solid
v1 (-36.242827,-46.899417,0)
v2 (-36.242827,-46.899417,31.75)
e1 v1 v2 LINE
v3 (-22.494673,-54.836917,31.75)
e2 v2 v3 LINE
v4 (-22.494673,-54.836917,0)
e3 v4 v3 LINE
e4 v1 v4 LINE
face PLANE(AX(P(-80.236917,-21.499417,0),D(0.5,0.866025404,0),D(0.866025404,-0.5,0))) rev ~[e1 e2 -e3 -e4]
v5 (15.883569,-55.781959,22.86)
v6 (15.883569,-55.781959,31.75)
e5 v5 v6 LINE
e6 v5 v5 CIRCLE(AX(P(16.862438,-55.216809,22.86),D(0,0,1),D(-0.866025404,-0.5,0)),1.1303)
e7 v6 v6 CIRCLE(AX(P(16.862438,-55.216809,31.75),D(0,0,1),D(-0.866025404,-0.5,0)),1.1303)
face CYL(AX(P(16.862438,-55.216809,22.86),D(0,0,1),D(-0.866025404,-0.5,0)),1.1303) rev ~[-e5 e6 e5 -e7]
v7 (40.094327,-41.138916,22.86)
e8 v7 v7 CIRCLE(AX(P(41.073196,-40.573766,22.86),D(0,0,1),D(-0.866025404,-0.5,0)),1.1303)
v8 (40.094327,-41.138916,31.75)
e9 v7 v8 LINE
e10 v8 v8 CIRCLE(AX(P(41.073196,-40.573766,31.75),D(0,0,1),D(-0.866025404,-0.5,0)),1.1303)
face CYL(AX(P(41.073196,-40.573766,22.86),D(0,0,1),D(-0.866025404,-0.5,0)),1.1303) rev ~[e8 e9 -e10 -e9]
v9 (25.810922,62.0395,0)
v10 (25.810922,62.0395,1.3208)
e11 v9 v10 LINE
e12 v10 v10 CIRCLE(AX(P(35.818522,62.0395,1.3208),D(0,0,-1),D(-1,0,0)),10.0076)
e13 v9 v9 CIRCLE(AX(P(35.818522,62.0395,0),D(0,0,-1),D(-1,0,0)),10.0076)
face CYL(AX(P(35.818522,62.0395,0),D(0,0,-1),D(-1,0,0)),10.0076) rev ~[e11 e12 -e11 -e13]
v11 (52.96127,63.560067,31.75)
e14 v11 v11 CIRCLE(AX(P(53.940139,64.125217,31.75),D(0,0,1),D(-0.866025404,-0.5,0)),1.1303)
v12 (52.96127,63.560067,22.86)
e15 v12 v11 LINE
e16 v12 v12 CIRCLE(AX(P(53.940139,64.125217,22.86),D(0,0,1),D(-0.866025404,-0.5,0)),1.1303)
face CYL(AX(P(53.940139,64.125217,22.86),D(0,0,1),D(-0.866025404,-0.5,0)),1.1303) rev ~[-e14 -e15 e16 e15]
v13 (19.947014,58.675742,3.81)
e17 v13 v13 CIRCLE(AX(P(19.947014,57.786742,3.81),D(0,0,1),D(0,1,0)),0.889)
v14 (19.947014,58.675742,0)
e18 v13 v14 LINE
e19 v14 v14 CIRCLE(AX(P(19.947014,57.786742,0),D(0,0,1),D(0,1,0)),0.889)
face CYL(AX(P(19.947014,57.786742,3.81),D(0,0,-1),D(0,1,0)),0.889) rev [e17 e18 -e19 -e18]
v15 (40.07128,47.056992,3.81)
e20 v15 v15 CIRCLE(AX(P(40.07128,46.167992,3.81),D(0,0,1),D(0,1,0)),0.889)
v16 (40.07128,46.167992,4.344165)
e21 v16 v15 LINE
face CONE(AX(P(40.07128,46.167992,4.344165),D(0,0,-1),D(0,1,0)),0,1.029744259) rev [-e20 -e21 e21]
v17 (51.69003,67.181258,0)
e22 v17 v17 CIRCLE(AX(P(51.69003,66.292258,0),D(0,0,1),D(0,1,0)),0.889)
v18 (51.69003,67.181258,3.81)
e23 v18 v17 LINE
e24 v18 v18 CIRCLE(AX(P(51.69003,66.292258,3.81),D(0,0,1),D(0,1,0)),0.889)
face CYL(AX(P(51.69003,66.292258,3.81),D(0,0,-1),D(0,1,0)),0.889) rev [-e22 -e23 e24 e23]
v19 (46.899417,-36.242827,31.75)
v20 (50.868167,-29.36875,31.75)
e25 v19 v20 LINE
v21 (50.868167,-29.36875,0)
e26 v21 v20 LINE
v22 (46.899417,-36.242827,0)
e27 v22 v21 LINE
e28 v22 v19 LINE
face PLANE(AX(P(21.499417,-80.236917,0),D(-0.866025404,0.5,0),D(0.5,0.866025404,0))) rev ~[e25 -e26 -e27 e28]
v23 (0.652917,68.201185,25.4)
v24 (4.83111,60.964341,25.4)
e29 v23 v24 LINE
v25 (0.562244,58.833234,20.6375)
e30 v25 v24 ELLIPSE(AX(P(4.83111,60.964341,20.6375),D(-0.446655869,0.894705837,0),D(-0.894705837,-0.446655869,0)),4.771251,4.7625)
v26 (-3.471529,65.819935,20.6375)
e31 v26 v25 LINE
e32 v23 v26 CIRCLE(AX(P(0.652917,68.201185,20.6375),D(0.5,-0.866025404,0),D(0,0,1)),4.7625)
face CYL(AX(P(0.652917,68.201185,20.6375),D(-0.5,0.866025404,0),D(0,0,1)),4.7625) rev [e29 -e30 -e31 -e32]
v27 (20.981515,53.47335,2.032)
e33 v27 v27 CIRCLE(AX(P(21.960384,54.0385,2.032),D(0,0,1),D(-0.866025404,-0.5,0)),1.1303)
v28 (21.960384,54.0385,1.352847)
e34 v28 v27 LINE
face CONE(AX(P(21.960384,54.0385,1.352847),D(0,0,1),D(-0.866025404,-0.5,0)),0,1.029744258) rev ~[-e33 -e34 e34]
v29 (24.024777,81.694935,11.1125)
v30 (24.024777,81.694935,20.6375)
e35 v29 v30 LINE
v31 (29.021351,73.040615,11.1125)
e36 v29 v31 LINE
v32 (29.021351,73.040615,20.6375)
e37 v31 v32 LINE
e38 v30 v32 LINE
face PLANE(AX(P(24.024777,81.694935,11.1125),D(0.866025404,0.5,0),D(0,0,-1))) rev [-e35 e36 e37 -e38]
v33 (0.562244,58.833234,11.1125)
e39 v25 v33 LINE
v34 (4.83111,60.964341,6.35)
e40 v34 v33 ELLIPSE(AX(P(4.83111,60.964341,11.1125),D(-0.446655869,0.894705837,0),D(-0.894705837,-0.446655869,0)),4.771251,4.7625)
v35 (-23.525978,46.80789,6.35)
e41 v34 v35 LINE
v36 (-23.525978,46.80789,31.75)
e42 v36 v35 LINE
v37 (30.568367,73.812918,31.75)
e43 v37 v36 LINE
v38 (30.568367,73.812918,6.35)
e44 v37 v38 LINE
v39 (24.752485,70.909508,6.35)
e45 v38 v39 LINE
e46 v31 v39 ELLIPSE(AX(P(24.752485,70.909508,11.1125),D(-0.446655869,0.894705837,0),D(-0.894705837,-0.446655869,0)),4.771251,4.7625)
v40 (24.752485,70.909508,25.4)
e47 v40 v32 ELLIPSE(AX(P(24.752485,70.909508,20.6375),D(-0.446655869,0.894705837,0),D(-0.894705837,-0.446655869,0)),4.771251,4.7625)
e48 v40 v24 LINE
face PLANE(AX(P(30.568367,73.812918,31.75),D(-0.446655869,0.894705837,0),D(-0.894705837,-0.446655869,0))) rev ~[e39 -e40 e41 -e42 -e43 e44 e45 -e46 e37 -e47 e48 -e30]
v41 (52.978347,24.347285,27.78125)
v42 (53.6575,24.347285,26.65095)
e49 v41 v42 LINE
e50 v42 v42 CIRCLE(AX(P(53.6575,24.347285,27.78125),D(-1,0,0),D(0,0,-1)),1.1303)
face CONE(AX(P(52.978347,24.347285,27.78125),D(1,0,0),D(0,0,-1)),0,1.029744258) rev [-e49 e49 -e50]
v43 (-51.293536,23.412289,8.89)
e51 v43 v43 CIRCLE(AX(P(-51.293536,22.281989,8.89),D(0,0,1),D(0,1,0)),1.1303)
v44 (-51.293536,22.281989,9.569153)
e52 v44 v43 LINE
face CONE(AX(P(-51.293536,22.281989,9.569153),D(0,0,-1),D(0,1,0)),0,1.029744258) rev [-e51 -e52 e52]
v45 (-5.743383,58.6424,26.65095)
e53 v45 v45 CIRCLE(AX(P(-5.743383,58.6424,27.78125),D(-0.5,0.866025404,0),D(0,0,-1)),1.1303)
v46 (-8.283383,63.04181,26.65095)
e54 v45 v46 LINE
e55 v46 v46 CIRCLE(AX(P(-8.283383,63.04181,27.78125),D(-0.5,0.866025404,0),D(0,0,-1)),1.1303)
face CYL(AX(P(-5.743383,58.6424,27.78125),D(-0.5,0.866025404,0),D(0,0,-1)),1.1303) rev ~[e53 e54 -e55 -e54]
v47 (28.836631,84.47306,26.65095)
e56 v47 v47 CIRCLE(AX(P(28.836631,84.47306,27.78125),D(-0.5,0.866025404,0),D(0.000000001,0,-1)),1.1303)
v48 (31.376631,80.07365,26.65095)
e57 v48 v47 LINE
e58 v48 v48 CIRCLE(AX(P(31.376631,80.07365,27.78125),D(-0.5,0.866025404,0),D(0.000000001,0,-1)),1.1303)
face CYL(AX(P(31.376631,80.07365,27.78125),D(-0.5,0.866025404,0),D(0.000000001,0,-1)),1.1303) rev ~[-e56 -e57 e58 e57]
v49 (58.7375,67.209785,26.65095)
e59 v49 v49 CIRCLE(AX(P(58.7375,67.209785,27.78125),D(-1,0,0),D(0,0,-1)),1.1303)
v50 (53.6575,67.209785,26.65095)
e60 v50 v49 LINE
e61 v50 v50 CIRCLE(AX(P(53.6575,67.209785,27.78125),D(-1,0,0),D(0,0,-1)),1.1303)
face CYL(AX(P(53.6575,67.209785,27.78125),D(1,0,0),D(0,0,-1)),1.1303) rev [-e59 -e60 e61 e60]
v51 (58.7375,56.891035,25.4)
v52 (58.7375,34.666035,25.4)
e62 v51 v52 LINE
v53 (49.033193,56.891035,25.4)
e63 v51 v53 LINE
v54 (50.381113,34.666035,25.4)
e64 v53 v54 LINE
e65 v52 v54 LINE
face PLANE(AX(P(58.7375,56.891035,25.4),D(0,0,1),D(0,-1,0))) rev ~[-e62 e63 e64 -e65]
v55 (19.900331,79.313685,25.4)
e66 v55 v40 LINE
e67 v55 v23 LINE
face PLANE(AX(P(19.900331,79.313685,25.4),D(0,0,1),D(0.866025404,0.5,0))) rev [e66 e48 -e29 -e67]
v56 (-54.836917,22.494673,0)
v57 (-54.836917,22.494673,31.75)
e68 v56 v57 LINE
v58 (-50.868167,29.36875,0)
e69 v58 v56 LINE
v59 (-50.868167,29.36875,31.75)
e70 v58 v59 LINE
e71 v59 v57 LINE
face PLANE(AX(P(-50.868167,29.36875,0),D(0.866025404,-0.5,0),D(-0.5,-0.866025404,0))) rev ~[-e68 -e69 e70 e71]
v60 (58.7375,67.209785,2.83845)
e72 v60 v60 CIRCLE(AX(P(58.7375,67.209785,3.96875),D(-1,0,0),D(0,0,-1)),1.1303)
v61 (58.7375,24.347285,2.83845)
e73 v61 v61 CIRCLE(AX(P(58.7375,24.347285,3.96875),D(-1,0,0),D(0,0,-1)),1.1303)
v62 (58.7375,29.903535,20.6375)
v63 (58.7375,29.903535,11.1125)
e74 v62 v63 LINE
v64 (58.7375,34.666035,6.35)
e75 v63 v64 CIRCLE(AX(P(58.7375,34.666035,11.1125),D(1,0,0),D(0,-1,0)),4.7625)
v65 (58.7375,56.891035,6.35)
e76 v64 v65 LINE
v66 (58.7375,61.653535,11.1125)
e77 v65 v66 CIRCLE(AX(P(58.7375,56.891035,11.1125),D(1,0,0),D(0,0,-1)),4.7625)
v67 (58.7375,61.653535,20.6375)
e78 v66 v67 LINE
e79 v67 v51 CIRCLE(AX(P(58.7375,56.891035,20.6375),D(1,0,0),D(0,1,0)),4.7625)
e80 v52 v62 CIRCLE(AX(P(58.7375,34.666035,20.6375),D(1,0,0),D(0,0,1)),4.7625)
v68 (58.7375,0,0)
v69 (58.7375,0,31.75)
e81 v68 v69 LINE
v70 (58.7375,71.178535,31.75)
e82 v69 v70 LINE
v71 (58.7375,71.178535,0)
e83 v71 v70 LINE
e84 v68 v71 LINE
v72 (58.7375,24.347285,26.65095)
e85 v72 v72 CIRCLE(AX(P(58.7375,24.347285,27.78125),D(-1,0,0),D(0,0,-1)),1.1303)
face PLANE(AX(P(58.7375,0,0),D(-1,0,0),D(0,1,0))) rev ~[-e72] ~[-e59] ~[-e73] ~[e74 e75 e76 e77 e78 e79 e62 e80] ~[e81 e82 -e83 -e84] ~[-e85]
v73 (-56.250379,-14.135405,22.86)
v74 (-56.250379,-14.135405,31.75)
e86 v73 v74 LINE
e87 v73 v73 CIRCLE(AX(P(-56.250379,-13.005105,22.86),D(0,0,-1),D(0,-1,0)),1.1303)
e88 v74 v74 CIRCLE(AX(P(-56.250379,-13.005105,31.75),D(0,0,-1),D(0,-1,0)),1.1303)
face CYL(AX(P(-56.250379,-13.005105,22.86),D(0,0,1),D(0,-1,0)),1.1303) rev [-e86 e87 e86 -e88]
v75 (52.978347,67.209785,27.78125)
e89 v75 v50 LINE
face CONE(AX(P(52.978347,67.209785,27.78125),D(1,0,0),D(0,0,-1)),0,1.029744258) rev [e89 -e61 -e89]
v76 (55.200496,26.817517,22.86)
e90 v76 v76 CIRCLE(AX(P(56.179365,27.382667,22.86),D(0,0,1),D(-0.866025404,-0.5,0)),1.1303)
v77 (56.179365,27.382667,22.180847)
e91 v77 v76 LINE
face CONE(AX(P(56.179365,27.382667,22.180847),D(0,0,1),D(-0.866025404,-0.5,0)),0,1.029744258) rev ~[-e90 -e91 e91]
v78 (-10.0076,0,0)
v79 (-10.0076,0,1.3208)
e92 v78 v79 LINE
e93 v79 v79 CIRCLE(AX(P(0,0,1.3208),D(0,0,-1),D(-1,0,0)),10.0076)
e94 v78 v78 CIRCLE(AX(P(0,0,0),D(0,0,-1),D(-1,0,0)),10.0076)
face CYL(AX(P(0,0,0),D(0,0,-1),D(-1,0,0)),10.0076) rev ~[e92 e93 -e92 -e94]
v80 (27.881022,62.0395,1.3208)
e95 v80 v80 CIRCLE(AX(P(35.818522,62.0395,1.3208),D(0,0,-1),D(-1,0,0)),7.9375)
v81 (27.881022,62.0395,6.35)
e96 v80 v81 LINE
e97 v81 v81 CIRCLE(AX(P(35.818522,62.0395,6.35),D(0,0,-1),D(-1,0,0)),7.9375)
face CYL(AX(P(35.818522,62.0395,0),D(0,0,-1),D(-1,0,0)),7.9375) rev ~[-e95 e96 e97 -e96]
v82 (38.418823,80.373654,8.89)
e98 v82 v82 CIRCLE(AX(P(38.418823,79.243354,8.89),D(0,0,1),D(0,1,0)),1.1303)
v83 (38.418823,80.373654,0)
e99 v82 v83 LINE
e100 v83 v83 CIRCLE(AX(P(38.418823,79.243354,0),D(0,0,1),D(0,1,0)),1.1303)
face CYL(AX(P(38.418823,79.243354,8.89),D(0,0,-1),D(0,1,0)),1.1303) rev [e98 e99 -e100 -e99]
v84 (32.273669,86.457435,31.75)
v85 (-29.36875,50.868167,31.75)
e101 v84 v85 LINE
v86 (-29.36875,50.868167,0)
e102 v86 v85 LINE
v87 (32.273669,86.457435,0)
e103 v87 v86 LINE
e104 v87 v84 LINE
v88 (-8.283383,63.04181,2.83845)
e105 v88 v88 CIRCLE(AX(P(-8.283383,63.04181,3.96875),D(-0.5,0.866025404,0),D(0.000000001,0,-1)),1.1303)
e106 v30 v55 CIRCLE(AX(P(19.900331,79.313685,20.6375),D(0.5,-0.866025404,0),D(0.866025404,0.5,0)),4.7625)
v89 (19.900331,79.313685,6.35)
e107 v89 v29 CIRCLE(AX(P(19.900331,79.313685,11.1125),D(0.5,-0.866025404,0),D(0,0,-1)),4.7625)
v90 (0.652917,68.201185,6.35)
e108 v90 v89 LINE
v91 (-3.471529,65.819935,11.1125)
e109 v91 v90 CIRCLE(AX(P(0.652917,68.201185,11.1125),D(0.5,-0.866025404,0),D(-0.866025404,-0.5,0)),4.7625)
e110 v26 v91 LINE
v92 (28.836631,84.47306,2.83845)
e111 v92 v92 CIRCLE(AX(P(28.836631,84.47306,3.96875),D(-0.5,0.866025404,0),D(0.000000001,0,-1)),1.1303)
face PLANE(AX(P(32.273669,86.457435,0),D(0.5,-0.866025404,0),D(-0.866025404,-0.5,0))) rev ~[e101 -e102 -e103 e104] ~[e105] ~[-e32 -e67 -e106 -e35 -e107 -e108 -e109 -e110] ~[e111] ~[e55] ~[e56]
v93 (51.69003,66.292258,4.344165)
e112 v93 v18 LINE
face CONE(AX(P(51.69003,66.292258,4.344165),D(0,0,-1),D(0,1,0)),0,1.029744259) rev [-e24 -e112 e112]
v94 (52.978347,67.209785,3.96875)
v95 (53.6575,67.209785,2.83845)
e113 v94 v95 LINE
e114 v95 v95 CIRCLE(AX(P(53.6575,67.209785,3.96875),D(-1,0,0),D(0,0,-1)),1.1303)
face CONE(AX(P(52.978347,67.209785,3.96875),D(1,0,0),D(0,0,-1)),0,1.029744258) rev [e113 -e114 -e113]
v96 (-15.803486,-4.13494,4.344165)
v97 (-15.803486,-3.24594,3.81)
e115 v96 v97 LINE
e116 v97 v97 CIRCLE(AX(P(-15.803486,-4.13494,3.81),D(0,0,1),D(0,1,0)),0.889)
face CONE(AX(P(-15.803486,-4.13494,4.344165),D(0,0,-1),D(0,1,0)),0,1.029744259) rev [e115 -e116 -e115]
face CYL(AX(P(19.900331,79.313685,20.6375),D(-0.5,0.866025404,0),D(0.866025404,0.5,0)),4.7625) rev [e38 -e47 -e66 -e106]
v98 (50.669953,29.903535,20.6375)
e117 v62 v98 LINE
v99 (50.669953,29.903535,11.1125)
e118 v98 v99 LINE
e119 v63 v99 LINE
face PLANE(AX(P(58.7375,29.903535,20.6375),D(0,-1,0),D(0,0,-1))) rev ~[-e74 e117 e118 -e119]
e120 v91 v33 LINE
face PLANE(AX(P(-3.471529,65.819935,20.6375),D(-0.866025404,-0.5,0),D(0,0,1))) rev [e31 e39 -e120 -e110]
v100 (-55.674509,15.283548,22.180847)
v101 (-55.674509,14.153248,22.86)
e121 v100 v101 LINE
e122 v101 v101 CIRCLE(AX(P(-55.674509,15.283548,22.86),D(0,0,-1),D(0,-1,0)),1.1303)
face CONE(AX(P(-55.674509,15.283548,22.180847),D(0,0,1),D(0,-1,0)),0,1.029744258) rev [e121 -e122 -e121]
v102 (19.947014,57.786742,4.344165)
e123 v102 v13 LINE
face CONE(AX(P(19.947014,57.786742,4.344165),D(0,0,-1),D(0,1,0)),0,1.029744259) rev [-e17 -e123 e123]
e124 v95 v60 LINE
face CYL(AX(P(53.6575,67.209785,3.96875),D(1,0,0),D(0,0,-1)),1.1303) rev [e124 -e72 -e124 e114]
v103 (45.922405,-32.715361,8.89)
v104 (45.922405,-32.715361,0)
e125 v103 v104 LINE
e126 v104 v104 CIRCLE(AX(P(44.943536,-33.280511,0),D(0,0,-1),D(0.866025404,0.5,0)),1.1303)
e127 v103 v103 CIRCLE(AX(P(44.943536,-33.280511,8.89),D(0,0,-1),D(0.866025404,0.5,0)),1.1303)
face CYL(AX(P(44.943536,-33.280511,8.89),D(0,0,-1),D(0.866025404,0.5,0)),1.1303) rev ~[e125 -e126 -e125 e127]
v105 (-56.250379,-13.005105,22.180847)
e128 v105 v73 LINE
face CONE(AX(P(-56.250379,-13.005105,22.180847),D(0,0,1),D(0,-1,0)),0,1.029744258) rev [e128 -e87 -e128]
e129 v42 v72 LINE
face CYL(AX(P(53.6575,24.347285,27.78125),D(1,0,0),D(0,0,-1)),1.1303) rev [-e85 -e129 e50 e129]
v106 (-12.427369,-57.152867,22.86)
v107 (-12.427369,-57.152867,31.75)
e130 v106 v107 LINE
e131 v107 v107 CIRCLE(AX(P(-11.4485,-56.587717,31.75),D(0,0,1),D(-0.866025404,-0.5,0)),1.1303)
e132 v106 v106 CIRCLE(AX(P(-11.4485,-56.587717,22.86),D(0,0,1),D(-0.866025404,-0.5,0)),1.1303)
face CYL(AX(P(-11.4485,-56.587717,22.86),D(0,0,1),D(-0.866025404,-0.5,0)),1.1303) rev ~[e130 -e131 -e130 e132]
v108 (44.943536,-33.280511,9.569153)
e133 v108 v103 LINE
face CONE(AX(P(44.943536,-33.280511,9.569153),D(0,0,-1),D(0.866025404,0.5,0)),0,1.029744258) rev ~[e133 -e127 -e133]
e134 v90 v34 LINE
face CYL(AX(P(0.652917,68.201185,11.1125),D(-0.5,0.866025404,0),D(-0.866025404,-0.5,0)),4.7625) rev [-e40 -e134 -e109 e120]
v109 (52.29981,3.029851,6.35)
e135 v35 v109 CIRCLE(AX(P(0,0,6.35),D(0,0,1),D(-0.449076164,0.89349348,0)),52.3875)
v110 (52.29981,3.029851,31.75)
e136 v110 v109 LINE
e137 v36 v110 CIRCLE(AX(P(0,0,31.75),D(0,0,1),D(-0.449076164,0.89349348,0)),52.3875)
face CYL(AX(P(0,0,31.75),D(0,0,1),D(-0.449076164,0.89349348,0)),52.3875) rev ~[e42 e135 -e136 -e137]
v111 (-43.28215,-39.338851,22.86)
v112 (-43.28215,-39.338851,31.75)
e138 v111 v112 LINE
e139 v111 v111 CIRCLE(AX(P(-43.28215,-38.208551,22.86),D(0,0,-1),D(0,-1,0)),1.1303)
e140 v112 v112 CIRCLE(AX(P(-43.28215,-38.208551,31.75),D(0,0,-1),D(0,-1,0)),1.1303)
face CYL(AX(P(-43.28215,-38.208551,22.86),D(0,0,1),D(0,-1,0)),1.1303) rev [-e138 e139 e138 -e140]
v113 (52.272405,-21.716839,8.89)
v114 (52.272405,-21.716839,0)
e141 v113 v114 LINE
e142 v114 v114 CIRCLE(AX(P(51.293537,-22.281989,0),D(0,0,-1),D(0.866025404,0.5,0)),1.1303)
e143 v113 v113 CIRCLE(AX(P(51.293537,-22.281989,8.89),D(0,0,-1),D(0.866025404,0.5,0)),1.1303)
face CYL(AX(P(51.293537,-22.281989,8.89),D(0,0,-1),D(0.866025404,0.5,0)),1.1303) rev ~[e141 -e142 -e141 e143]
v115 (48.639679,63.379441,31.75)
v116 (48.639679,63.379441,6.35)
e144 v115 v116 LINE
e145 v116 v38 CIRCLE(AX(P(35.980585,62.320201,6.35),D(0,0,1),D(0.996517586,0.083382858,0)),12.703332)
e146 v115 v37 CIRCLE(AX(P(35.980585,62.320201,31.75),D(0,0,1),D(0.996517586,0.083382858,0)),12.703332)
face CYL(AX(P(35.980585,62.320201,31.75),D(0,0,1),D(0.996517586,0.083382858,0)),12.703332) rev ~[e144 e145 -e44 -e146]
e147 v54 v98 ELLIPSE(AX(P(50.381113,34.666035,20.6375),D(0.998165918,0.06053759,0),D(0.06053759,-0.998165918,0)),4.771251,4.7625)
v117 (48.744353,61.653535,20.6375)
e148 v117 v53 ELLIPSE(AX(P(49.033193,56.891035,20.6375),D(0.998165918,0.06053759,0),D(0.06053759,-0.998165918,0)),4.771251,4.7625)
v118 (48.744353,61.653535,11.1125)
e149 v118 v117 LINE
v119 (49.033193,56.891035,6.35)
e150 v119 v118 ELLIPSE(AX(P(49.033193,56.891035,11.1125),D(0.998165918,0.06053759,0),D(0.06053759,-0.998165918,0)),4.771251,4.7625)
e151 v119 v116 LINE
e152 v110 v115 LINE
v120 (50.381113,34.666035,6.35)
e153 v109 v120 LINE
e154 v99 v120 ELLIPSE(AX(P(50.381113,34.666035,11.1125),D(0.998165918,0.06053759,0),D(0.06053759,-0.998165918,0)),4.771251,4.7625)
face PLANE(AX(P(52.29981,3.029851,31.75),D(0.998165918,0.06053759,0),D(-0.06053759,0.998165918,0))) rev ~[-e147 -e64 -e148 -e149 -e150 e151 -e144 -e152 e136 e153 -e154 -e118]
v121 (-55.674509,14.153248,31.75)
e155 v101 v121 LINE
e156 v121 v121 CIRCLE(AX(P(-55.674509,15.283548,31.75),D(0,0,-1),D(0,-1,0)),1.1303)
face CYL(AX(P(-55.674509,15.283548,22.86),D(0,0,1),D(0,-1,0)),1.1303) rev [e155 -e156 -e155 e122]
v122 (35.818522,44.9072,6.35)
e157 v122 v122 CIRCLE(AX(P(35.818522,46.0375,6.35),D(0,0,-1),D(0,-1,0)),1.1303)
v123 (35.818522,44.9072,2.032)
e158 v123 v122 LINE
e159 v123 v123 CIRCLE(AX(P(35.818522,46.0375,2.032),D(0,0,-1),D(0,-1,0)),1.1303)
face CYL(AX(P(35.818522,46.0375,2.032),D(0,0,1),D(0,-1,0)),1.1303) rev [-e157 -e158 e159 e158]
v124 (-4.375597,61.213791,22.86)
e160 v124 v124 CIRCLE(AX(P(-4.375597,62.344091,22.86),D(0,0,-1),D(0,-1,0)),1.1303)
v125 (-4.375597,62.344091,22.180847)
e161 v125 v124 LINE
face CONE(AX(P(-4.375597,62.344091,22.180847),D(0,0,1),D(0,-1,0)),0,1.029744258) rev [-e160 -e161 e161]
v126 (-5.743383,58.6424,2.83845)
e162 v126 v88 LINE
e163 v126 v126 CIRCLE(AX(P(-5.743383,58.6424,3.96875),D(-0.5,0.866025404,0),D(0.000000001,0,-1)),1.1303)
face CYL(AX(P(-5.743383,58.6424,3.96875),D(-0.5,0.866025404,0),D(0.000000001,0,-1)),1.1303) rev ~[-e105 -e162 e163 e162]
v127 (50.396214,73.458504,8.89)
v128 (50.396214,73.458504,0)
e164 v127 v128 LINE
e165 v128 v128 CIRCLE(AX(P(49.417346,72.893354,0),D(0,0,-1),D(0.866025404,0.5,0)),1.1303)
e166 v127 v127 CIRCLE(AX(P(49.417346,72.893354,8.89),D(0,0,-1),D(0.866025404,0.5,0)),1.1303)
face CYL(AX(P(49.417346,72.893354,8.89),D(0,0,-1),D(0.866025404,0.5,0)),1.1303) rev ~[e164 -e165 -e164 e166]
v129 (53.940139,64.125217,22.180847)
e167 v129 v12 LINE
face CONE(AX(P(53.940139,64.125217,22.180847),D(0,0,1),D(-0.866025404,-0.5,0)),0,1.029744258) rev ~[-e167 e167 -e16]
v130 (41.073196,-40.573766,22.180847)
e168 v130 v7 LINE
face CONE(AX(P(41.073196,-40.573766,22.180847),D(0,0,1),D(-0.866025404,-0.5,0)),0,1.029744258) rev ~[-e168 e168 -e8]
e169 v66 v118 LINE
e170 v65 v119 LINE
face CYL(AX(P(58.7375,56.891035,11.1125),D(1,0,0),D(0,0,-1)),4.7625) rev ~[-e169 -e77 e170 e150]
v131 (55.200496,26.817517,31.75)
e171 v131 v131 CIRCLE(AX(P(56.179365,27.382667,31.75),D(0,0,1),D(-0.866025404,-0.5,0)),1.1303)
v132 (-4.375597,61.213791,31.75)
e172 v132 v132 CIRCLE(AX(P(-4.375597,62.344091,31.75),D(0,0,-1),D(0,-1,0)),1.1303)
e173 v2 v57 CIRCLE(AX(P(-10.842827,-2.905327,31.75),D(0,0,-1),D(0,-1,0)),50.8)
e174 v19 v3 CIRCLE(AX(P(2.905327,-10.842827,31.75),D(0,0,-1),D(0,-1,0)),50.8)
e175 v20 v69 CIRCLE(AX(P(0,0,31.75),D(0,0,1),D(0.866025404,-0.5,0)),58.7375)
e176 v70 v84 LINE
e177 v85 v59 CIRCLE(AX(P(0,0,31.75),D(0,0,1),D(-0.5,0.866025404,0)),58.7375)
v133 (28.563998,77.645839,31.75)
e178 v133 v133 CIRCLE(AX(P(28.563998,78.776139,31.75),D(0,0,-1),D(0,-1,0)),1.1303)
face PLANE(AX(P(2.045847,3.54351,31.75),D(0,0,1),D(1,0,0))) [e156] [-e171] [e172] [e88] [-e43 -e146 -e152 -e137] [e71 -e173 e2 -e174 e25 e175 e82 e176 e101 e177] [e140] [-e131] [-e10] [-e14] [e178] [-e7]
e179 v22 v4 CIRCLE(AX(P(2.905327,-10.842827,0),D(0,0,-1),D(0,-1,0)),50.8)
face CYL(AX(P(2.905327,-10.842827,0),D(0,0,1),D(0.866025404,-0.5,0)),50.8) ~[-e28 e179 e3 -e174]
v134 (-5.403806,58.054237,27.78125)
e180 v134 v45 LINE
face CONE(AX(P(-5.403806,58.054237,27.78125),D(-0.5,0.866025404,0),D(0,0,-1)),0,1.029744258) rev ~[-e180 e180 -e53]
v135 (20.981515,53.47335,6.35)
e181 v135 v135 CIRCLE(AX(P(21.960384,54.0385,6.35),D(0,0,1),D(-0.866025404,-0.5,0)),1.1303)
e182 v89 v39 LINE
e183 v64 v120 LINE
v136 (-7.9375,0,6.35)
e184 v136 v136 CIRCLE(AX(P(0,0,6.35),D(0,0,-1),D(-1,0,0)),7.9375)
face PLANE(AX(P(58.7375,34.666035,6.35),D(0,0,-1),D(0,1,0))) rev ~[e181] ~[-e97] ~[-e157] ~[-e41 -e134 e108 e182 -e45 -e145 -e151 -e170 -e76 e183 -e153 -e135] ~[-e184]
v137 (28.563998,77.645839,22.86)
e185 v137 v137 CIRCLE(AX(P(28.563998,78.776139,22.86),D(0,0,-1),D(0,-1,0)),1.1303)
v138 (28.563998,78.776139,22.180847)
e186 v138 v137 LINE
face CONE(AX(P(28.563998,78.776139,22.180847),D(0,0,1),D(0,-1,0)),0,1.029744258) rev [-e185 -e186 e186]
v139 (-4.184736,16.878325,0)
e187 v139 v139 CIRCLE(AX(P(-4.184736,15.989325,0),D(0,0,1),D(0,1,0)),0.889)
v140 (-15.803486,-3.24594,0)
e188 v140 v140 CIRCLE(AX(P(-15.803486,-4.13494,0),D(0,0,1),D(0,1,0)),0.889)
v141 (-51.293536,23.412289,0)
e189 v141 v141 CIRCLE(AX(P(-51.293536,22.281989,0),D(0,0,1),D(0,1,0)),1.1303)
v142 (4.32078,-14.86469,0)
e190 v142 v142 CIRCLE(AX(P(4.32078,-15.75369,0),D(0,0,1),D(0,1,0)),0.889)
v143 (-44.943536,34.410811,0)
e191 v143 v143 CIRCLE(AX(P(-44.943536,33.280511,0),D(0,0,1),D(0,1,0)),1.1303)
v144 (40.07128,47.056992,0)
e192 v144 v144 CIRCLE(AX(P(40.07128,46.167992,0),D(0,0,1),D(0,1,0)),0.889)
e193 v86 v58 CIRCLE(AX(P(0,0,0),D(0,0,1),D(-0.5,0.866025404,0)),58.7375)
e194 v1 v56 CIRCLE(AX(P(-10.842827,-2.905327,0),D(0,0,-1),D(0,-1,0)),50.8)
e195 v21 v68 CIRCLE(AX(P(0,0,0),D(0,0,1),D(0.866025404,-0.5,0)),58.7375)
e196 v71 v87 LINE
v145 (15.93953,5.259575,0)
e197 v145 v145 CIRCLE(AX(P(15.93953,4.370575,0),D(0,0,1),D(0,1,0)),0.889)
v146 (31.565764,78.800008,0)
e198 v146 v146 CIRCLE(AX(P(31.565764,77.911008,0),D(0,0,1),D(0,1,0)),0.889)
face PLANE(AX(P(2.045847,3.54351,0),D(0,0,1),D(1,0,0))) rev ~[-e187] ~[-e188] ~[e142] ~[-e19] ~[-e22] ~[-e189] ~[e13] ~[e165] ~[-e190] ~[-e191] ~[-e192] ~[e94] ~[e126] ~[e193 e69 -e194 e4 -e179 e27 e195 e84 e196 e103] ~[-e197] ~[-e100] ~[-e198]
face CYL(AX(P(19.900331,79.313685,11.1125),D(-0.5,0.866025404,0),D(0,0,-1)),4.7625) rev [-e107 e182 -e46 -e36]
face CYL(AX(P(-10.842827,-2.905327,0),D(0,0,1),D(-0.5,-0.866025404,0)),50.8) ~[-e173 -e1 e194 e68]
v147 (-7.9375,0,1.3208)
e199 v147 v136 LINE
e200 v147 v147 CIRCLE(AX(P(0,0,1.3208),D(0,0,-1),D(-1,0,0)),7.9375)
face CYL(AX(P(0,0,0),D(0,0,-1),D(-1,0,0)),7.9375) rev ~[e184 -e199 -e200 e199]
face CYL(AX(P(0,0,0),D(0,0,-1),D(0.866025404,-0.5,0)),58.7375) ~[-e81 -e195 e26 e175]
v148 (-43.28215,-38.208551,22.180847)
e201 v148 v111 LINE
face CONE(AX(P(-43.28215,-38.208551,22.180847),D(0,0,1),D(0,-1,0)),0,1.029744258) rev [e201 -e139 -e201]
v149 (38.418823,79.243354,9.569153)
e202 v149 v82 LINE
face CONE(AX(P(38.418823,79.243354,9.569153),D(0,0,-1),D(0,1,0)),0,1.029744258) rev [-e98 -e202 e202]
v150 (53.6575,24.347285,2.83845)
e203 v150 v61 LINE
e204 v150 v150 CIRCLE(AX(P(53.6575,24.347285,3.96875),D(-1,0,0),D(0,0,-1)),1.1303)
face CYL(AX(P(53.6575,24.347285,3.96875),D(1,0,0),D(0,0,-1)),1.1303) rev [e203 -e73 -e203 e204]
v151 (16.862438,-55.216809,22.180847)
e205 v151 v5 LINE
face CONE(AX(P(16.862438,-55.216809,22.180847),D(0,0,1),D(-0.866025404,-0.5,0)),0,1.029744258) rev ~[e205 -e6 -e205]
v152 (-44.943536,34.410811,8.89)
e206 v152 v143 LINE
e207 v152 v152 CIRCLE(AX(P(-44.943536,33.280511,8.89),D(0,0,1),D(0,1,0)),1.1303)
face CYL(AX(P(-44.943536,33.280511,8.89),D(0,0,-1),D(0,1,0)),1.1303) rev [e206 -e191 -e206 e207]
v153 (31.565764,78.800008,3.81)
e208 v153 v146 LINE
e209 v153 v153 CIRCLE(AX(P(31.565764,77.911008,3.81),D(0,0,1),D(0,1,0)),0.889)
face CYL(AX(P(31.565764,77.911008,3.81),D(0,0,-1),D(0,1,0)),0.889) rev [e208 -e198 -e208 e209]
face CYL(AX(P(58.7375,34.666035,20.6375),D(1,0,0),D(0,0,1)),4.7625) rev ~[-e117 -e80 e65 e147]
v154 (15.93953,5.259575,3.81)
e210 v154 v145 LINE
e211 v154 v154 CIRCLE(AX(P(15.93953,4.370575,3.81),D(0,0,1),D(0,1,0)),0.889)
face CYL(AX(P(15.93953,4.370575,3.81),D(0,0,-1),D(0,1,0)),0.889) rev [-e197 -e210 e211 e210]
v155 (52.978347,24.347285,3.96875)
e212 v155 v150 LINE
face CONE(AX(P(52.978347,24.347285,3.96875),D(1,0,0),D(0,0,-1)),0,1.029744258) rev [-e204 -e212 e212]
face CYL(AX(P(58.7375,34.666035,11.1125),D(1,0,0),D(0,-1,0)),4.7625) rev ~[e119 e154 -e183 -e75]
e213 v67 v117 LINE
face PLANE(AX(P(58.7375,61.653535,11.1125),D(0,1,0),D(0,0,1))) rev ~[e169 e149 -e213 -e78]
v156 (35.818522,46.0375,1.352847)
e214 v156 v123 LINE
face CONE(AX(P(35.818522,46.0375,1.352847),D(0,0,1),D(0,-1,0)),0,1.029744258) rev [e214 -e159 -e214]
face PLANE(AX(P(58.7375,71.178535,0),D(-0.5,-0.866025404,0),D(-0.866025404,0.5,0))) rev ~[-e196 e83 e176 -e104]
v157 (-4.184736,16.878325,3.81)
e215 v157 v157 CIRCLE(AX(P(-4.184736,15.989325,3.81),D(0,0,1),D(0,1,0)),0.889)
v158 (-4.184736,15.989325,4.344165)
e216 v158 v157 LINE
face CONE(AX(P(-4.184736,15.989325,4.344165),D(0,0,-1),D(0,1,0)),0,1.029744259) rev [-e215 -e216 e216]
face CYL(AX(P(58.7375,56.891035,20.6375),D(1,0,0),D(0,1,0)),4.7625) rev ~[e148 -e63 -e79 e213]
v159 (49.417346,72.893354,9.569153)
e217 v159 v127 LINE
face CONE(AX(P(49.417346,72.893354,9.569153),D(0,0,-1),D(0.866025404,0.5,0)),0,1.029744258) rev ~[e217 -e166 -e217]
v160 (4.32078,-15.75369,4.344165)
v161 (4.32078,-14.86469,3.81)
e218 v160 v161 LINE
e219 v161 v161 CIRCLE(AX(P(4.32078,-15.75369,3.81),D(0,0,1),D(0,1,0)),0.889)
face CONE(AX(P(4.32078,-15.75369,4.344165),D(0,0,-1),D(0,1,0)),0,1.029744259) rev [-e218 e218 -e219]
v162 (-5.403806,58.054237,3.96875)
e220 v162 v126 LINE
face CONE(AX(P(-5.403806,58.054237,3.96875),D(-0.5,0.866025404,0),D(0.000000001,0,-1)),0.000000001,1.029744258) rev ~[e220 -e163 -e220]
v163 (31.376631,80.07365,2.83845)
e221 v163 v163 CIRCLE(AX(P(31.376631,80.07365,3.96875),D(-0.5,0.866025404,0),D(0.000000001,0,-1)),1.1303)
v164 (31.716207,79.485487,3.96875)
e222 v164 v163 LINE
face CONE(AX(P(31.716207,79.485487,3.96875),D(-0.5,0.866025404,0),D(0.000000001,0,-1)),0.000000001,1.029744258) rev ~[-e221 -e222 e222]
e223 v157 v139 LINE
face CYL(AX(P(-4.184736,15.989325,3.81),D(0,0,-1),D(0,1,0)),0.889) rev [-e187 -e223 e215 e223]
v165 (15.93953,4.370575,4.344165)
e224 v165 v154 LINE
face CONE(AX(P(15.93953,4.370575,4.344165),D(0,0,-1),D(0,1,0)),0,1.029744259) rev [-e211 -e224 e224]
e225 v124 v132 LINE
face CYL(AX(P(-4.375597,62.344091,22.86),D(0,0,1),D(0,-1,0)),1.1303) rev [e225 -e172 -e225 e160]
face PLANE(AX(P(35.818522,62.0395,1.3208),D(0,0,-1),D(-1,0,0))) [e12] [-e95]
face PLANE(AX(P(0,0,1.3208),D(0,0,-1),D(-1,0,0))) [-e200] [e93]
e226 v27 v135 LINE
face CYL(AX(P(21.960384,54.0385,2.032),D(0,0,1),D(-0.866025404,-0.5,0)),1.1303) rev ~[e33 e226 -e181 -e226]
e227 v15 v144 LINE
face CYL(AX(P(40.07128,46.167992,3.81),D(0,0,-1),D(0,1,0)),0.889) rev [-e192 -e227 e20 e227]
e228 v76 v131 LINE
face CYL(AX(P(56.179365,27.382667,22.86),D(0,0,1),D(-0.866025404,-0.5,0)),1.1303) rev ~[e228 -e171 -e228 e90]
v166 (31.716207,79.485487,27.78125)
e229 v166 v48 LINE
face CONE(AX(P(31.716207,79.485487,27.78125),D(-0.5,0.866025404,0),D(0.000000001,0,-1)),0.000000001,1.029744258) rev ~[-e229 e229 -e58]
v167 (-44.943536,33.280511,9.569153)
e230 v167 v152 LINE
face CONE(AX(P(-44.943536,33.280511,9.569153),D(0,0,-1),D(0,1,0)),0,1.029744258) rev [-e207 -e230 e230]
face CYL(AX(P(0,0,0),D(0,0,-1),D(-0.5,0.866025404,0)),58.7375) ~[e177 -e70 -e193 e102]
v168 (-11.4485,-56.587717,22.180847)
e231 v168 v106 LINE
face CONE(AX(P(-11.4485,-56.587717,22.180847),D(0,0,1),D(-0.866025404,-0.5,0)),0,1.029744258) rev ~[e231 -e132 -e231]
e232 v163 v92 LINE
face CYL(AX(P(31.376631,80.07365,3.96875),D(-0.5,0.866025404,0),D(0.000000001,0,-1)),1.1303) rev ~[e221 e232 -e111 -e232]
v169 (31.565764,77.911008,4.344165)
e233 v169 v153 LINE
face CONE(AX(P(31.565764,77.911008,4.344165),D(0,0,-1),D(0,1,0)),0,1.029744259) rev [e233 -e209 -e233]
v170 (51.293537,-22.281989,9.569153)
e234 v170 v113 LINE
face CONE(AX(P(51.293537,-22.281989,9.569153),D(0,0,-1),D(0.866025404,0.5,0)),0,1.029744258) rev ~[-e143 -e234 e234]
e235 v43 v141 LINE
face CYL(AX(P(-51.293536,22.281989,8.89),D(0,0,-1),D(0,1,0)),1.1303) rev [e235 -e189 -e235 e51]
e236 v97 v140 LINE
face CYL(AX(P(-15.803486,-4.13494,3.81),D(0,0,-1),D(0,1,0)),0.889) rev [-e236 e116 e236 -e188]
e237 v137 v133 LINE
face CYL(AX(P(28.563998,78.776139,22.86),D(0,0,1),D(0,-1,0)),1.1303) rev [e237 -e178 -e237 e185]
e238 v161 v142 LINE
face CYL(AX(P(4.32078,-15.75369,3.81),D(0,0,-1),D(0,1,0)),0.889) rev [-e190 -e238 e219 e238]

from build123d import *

# Parameters (mm, degrees)
BOSS_EXTRUDE1_DEPTH            = 31.75
CUT_EXTRUDE3_DEPTH             = 25.4
CUT_EXTRUDE4_DEPTH             = 41.472686
F_4_40_TAPPED_HOLE1_AT_2_COUNT = 2
F_4_40_TAPPED_HOLE1_AT_2_PITCH = 23.8125
F_4_40_TAPPED_HOLE1_AT_3_COUNT = 2
F_4_40_TAPPED_HOLE1_AT_3_PITCH = 49.032938546
F_4_40_TAPPED_HOLE1_AT_4_COUNT = 2
F_4_40_TAPPED_HOLE1_AT_4_PITCH = 42.8625
F_4_40_TAPPED_HOLE3_AT_2_COUNT = 2
F_4_40_TAPPED_HOLE3_AT_2_PITCH = 105.48665894
F_4_40_TAPPED_HOLE3_AT_3_COUNT = 2
F_4_40_TAPPED_HOLE3_AT_3_PITCH = 124.969097047
F_4_40_TAPPED_HOLE3_AT_4_COUNT = 2
F_4_40_TAPPED_HOLE3_AT_4_PITCH = 36.810720416
F_4_40_TAPPED_HOLE3_AT_5_COUNT = 2
F_4_40_TAPPED_HOLE3_AT_5_PITCH = 137.285419975
SKETCH23_R                     = 7.9375
CUT_EXTRUDE6_DEPTH             = 32.75
SKETCH24_R                     = 10.0076
CUT_EXTRUDE9_DEPTH             = 1.3208
F_2_56_TAPPED_HOLE1_AT_2_COUNT = 2
F_2_56_TAPPED_HOLE1_AT_2_PITCH = 23.23749988
F_2_56_TAPPED_HOLE1_AT_3_COUNT = 2
F_2_56_TAPPED_HOLE1_AT_3_PITCH = 32.862787571
F_2_56_TAPPED_HOLE1_AT_4_COUNT = 2
F_2_56_TAPPED_HOLE1_AT_4_PITCH = 23.2375
LPATTERN1_COUNT                = 2
LPATTERN1_PITCH                = 71.501
F_4_40_TAPPED_HOLE5_AT_2_COUNT = 2
F_4_40_TAPPED_HOLE5_AT_2_PITCH = 12.7
F_4_40_TAPPED_HOLE5_AT_3_COUNT = 2
F_4_40_TAPPED_HOLE5_AT_3_PITCH = 95.193833559
FILLET3_R                      = 50.8


with BuildPart() as part:
    # Sketch1 (on Front Plane) → Boss-Extrude1 (new body)
    with BuildSketch(Plane.XY):
        with BuildLine():
            Line((58.7375, 0), (58.7375, 71.178534783))
            Line((58.7375, 71.178534783), (32.273669326, 86.457434546))
            Line((32.273669326, 86.457434546), (-29.36875, 50.868167155))
            ThreePointArc((-29.36875, 50.868167155), (-41.53368456, 41.53368456), (-50.868167155, 29.36875))
            Line((-50.868167155, 29.36875), (-80.236917155, -21.499417155))
            Line((-80.236917155, -21.499417155), (21.499417155, -80.236917155))
            Line((21.499417155, -80.236917155), (50.868167155, -29.36875))
            ThreePointArc((50.868167155, -29.36875), (56.736068222, -15.202383662), (58.7375, 0))
        make_face()
    extrude(amount=BOSS_EXTRUDE1_DEPTH)

    # Sketch4 → Cut-Extrude3 (cut)
    with BuildSketch(Plane.XY.offset(31.75)):
        with BuildLine():
            Line((30.568366553, 73.812917761), (-23.525977534, 46.807889691))
            ThreePointArc((-23.525977534, 46.807889691), (-26.19375, -45.368905841), (52.299810337, 3.029850652))
            Line((52.299810337, 3.029850652), (48.639678632, 63.379440867))
            ThreePointArc((48.639678632, 63.379440867), (42.332250779, 73.321609148), (30.568366553, 73.812917761))
        make_face()
    extrude(amount=-CUT_EXTRUDE3_DEPTH, mode=Mode.SUBTRACT)

    # Sketch5 → Cut-Extrude4 (cut)
    with BuildSketch(Plane(origin=(58.7375, 0, 0), x_dir=(0, 0, -1), z_dir=(1, 0, 0))):
        with BuildLine():
            Line((-20.6375, 29.903534783), (-11.1125, 29.903534783))
            ThreePointArc((-11.1125, 29.903534783), (-7.744903955, 31.298438737), (-6.35, 34.666034783))
            Line((-6.35, 34.666034783), (-6.35, 56.891034783))
            ThreePointArc((-6.35, 56.891034783), (-7.744903955, 60.258630828), (-11.1125, 61.653534783))
            Line((-11.1125, 61.653534783), (-20.6375, 61.653534783))
            ThreePointArc((-20.6375, 61.653534783), (-24.005096045, 60.258630828), (-25.4, 56.891034783))
            Line((-25.4, 56.891034783), (-25.4, 34.666034783))
            ThreePointArc((-25.4, 34.666034783), (-24.005096045, 31.298438737), (-20.6375, 29.903534783))
        make_face()
    cut_extrude4 = extrude(amount=-CUT_EXTRUDE4_DEPTH, mode=Mode.SUBTRACT)

    # Sketch11 → #4-40 Tapped Hole1 (revolve, cut)
    with BuildSketch(Plane(origin=(58.7375, 24.347284783, 27.78125), x_dir=(0, 0, -1), z_dir=(0, 1, 0))):
        Polygon((0, 0), (0, 5.759152758), (1.1303, 5.08), (1.1303, 0), align=None)
    f_4_40_tapped_hole1 = revolve(axis=Axis((65.0875, 24.347284783, 27.78125), (-1, 0, 0)), mode=Mode.SUBTRACT)

    # #4-40 Tapped Hole1 at 2: #4-40 Tapped Hole1 ×2
    with Locations(*[(0, 0, -i * F_4_40_TAPPED_HOLE1_AT_2_PITCH) for i in range(1, F_4_40_TAPPED_HOLE1_AT_2_COUNT)]):
        add(f_4_40_tapped_hole1, mode=Mode.SUBTRACT)

    # #4-40 Tapped Hole1 at 3: #4-40 Tapped Hole1 ×2
    with Locations(*[Vector(0, 0.874157276, -0.485642931) * (i * F_4_40_TAPPED_HOLE1_AT_3_PITCH) for i in range(1, F_4_40_TAPPED_HOLE1_AT_3_COUNT)]):
        add(f_4_40_tapped_hole1, mode=Mode.SUBTRACT)

    # #4-40 Tapped Hole1 at 4: #4-40 Tapped Hole1 ×2
    with Locations(*[(0, i * F_4_40_TAPPED_HOLE1_AT_4_PITCH, 0) for i in range(1, F_4_40_TAPPED_HOLE1_AT_4_COUNT)]):
        add(f_4_40_tapped_hole1, mode=Mode.SUBTRACT)

    # Mirror1: #4-40 Tapped Hole1, Cut-Extrude4 across plane
    add(f_4_40_tapped_hole1.mirror(Plane(origin=(45.505584663, 78.817984664, 31.75), x_dir=(0, 0, 1), z_dir=(-0.866025404, 0.5, 0))), mode=Mode.SUBTRACT)
    add(cut_extrude4.mirror(Plane(origin=(45.505584663, 78.817984664, 31.75), x_dir=(0, 0, 1), z_dir=(-0.866025404, 0.5, 0))), mode=Mode.SUBTRACT)

    # Mirror1 copy 1 sketch → Mirror1 copy 1 (revolve, cut)
    with BuildSketch(Plane(origin=(-8.283382865, 63.041809546, 3.96875), x_dir=(0, 0, -1), z_dir=(0.866025404, 0.5, 0))):
        Polygon((0, 0), (0, -5.759152758), (1.1303, -5.08), (1.1303, 0), align=None)
    revolve(axis=Axis((-11.458382865, 68.54107086, 3.96875), (-0.5, 0.866025404, 0)), mode=Mode.SUBTRACT)

    # Mirror1 copy 2 sketch → Mirror1 copy 2 (revolve, cut)
    with BuildSketch(Plane(origin=(28.836631005, 84.473059546, 3.96875), x_dir=(0, 0, -1), z_dir=(0.866025404, 0.5, 0))):
        Polygon((0, 0), (0, -5.759152758), (1.1303, -5.08), (1.1303, 0), align=None)
    revolve(axis=Axis((25.661631005, 89.97232086, 3.96875), (-0.5, 0.866025404, 0)), mode=Mode.SUBTRACT)

    # Mirror1 copy 3 sketch → Mirror1 copy 3 (revolve, cut)
    with BuildSketch(Plane(origin=(28.836631005, 84.473059546, 27.78125), x_dir=(0, 0, -1), z_dir=(0.866025404, 0.5, 0))):
        Polygon((0, 0), (0, -5.759152758), (1.1303, -5.08), (1.1303, 0), align=None)
    revolve(axis=Axis((25.661631005, 89.97232086, 27.78125), (-0.5, 0.866025404, 0)), mode=Mode.SUBTRACT)

    # Sketch21 → #4-40 Tapped Hole3 (revolve, cut)
    with BuildSketch(Plane(origin=(28.563997799, 78.776138947, 31.75), x_dir=(0, -1, 0), z_dir=(1, 0, 0))):
        Polygon((0, 0), (0, 9.569152758), (1.1303, 8.89), (1.1303, 0), align=None)
    f_4_40_tapped_hole3 = revolve(axis=Axis((28.563997799, 78.776138947, 38.1), (0, 0, -1)), mode=Mode.SUBTRACT)

    # #4-40 Tapped Hole3 at 2: #4-40 Tapped Hole3 ×2
    with Locations(*[Vector(-0.798570247, -0.60190162, 0) * (i * F_4_40_TAPPED_HOLE3_AT_2_PITCH) for i in range(1, F_4_40_TAPPED_HOLE3_AT_2_COUNT)]):
        add(f_4_40_tapped_hole3, mode=Mode.SUBTRACT)

    # #4-40 Tapped Hole3 at 3: #4-40 Tapped Hole3 ×2
    with Locations(*[Vector(-0.678682797, -0.734431522, 0) * (i * F_4_40_TAPPED_HOLE3_AT_3_PITCH) for i in range(1, F_4_40_TAPPED_HOLE3_AT_3_COUNT)]):
        add(f_4_40_tapped_hole3, mode=Mode.SUBTRACT)

    # #4-40 Tapped Hole3 at 4: #4-40 Tapped Hole3 ×2
    with Locations(*[Vector(-0.894837014, -0.44639301, 0) * (i * F_4_40_TAPPED_HOLE3_AT_4_PITCH) for i in range(1, F_4_40_TAPPED_HOLE3_AT_4_COUNT)]):
        add(f_4_40_tapped_hole3, mode=Mode.SUBTRACT)

    # #4-40 Tapped Hole3 at 5: #4-40 Tapped Hole3 ×2
    with Locations(*[Vector(-0.523334145, -0.852127557, 0) * (i * F_4_40_TAPPED_HOLE3_AT_5_PITCH) for i in range(1, F_4_40_TAPPED_HOLE3_AT_5_COUNT)]):
        add(f_4_40_tapped_hole3, mode=Mode.SUBTRACT)

    # Mirror2: #4-40 Tapped Hole3 across plane
    add(f_4_40_tapped_hole3.mirror(Plane(origin=(45.505584663, 78.817984664, 31.75), x_dir=(0, 0, 1), z_dir=(-0.866025404, 0.5, 0))), mode=Mode.SUBTRACT)

    # Mirror2 copy 1 sketch → Mirror2 copy 1 (revolve, cut)
    with BuildSketch(Plane(origin=(41.073195613, -40.573765561, 31.75), x_dir=(-0.866025404, -0.5, 0), z_dir=(-0.5, 0.866025404, 0))):
        Polygon((0, 0), (0, -9.569152758), (1.1303, -8.89), (1.1303, 0), align=None)
    revolve(axis=Axis((41.073195613, -40.573765561, 38.1), (0, 0, 1)), mode=Mode.SUBTRACT)

    # Mirror2 copy 2 sketch → Mirror2 copy 2 (revolve, cut)
    with BuildSketch(Plane(origin=(16.862437785, -55.216809411, 31.75), x_dir=(-0.866025404, -0.5, 0), z_dir=(-0.5, 0.866025404, 0))):
        Polygon((0, 0), (0, -9.569152758), (1.1303, -8.89), (1.1303, 0), align=None)
    revolve(axis=Axis((16.862437785, -55.216809411, 38.1), (0, 0, 1)), mode=Mode.SUBTRACT)

    # Mirror2 copy 3 sketch → Mirror2 copy 3 (revolve, cut)
    with BuildSketch(Plane(origin=(56.179364962, 27.382666896, 31.75), x_dir=(-0.866025404, -0.5, 0), z_dir=(-0.5, 0.866025404, 0))):
        Polygon((0, 0), (0, -9.569152758), (1.1303, -8.89), (1.1303, 0), align=None)
    revolve(axis=Axis((56.179364962, 27.382666896, 38.1), (0, 0, 1)), mode=Mode.SUBTRACT)

    # Mirror2 copy 4 sketch → Mirror2 copy 4 (revolve, cut)
    with BuildSketch(Plane(origin=(-11.448500353, -56.58771677, 31.75), x_dir=(-0.866025404, -0.5, 0), z_dir=(-0.5, 0.866025404, 0))):
        Polygon((0, 0), (0, -9.569152758), (1.1303, -8.89), (1.1303, 0), align=None)
    revolve(axis=Axis((-11.448500353, -56.58771677, 38.1), (0, 0, 1)), mode=Mode.SUBTRACT)

    # Sketch23 → Cut-Extrude6 (cut, through all)
    with BuildSketch(Plane(origin=(0, 0, 0), x_dir=(-1, 0, 0), z_dir=(0, 0, -1))):
        Circle(SKETCH23_R)
        with Locations((-35.818522025, 62.0395)):
            Circle(SKETCH23_R)
    extrude(amount=-CUT_EXTRUDE6_DEPTH, mode=Mode.SUBTRACT)

    # Sketch24 → Cut-Extrude9 (cut)
    with BuildSketch(Plane(origin=(0, 0, 0), x_dir=(-1, 0, 0), z_dir=(0, 0, -1))):
        Circle(SKETCH24_R)
        with Locations((-35.818522025, 62.0395)):
            Circle(SKETCH24_R)
    extrude(amount=-CUT_EXTRUDE9_DEPTH, mode=Mode.SUBTRACT)

    # Sketch26 → #4-40 Tapped Hole4 (revolve, cut)
    with BuildSketch(Plane(origin=(35.818522025, 46.0375, 6.35), x_dir=(0, -1, 0), z_dir=(1, 0, 0))):
        Polygon((0, 0), (0, 4.997152758), (1.1303, 4.318), (1.1303, 0), align=None)
    f_4_40_tapped_hole4 = revolve(axis=Axis((35.818522025, 46.0375, 12.7), (0, 0, -1)), mode=Mode.SUBTRACT)

    # Mirror3: #4-40 Tapped Hole4 across plane
    add(f_4_40_tapped_hole4.mirror(Plane(origin=(45.505584663, 78.817984664, 31.75), x_dir=(0, 0, 1), z_dir=(-0.866025404, 0.5, 0))), mode=Mode.SUBTRACT)

    # Sketch28 → #2-56 Tapped Hole1 (revolve, cut)
    with BuildSketch(Plane(origin=(51.690029634, 66.29225769, 0), x_dir=(0, 1, 0), z_dir=(1, 0, 0))):
        Polygon((0, 0), (0, 4.34416509), (0.889, 3.81), (0.889, 0), align=None)
    f_2_56_tapped_hole1 = revolve(axis=Axis((51.690029634, 66.29225769, -6.35), (0, 0, 1)), mode=Mode.SUBTRACT)

    # #2-56 Tapped Hole1 at 2: #2-56 Tapped Hole1 ×2
    with Locations(*[Vector(-0.866025404, 0.5, 0) * (i * F_2_56_TAPPED_HOLE1_AT_2_PITCH) for i in range(1, F_2_56_TAPPED_HOLE1_AT_2_COUNT)]):
        add(f_2_56_tapped_hole1, mode=Mode.SUBTRACT)

    # #2-56 Tapped Hole1 at 3: #2-56 Tapped Hole1 ×2
    with Locations(*[Vector(-0.965925826, -0.258819048, 0) * (i * F_2_56_TAPPED_HOLE1_AT_3_PITCH) for i in range(1, F_2_56_TAPPED_HOLE1_AT_3_COUNT)]):
        add(f_2_56_tapped_hole1, mode=Mode.SUBTRACT)

    # #2-56 Tapped Hole1 at 4: #2-56 Tapped Hole1 ×2
    with Locations(*[Vector(-0.5, -0.866025404, 0) * (i * F_2_56_TAPPED_HOLE1_AT_4_PITCH) for i in range(1, F_2_56_TAPPED_HOLE1_AT_4_COUNT)]):
        add(f_2_56_tapped_hole1, mode=Mode.SUBTRACT)

    # LPattern1: #2-56 Tapped Hole1 ×2
    with Locations(*[Vector(-0.5, -0.866025404, 0) * (i * LPATTERN1_PITCH) for i in range(1, LPATTERN1_COUNT)]):
        add(f_2_56_tapped_hole1, mode=Mode.SUBTRACT)

    # LPattern1 copy 1 sketch → LPattern1 copy 1 (revolve, cut)
    with BuildSketch(Plane(origin=(-4.184735583, 15.989325234, 0), x_dir=(0, 1, 0), z_dir=(1, 0, 0))):
        Polygon((0, 0), (0, 4.34416509), (0.889, 3.81), (0.889, 0), align=None)
    revolve(axis=Axis((-4.184735583, 15.989325234, -6.35), (0, 0, 1)), mode=Mode.SUBTRACT)

    # LPattern1 copy 2 sketch → LPattern1 copy 2 (revolve, cut)
    with BuildSketch(Plane(origin=(-15.803485583, -4.134940086, 0), x_dir=(0, 1, 0), z_dir=(1, 0, 0))):
        Polygon((0, 0), (0, 4.34416509), (0.889, 3.81), (0.889, 0), align=None)
    revolve(axis=Axis((-15.803485583, -4.134940086, -6.35), (0, 0, 1)), mode=Mode.SUBTRACT)

    # LPattern1 copy 3 sketch → LPattern1 copy 3 (revolve, cut)
    with BuildSketch(Plane(origin=(4.320779634, -15.753690026, 0), x_dir=(0, 1, 0), z_dir=(1, 0, 0))):
        Polygon((0, 0), (0, 4.34416509), (0.889, 3.81), (0.889, 0), align=None)
    revolve(axis=Axis((4.320779634, -15.753690026, -6.35), (0, 0, 1)), mode=Mode.SUBTRACT)

    # Sketch31 → #4-40 Tapped Hole5 (revolve, cut)
    with BuildSketch(Plane(origin=(-44.943536498, 33.280511314, 0), x_dir=(0, 1, 0), z_dir=(1, 0, 0))):
        Polygon((0, 0), (0, 9.569152758), (1.1303, 8.89), (1.1303, 0), align=None)
    f_4_40_tapped_hole5 = revolve(axis=Axis((-44.943536498, 33.280511314, -6.35), (0, 0, 1)), mode=Mode.SUBTRACT)

    # #4-40 Tapped Hole5 at 2: #4-40 Tapped Hole5 ×2
    with Locations(*[Vector(-0.5, -0.866025404, 0) * (i * F_4_40_TAPPED_HOLE5_AT_2_PITCH) for i in range(1, F_4_40_TAPPED_HOLE5_AT_2_COUNT)]):
        add(f_4_40_tapped_hole5, mode=Mode.SUBTRACT)

    # #4-40 Tapped Hole5 at 3: #4-40 Tapped Hole5 ×2
    with Locations(*[Vector(0.875711763, 0.482834244, 0) * (i * F_4_40_TAPPED_HOLE5_AT_3_PITCH) for i in range(1, F_4_40_TAPPED_HOLE5_AT_3_COUNT)]):
        add(f_4_40_tapped_hole5, mode=Mode.SUBTRACT)

    # Mirror4: #4-40 Tapped Hole5 across plane
    add(f_4_40_tapped_hole5.mirror(Plane(origin=(45.505584663, 78.817984664, 31.75), x_dir=(0, 0, 1), z_dir=(-0.866025404, 0.5, 0))), mode=Mode.SUBTRACT)

    # Mirror4 copy 1 sketch → Mirror4 copy 1 (revolve, cut)
    with BuildSketch(Plane(origin=(44.943536498, -33.280511314, 0), x_dir=(0.866025404, 0.5, 0), z_dir=(-0.5, 0.866025404, 0))):
        Polygon((0, 0), (0, -9.569152758), (1.1303, -8.89), (1.1303, 0), align=None)
    revolve(axis=Axis((44.943536498, -33.280511314, -6.35), (0, 0, -1)), mode=Mode.SUBTRACT)

    # Mirror4 copy 2 sketch → Mirror4 copy 2 (revolve, cut)
    with BuildSketch(Plane(origin=(49.417345977, 72.893354007, 0), x_dir=(0.866025404, 0.5, 0), z_dir=(-0.5, 0.866025404, 0))):
        Polygon((0, 0), (0, -9.569152758), (1.1303, -8.89), (1.1303, 0), align=None)
    revolve(axis=Axis((49.417345977, 72.893354007, -6.35), (0, 0, -1)), mode=Mode.SUBTRACT)

    # Fillet3
    fillet3_edges = [part.edges().sort_by_distance(p)[0] for p in [
        (21.499417155, -80.236917155, 15.875),
        (-80.236917155, -21.499417155, 15.875),
    ]]
    fillet(fillet3_edges, radius=FILLET3_R)


solid = part.part
